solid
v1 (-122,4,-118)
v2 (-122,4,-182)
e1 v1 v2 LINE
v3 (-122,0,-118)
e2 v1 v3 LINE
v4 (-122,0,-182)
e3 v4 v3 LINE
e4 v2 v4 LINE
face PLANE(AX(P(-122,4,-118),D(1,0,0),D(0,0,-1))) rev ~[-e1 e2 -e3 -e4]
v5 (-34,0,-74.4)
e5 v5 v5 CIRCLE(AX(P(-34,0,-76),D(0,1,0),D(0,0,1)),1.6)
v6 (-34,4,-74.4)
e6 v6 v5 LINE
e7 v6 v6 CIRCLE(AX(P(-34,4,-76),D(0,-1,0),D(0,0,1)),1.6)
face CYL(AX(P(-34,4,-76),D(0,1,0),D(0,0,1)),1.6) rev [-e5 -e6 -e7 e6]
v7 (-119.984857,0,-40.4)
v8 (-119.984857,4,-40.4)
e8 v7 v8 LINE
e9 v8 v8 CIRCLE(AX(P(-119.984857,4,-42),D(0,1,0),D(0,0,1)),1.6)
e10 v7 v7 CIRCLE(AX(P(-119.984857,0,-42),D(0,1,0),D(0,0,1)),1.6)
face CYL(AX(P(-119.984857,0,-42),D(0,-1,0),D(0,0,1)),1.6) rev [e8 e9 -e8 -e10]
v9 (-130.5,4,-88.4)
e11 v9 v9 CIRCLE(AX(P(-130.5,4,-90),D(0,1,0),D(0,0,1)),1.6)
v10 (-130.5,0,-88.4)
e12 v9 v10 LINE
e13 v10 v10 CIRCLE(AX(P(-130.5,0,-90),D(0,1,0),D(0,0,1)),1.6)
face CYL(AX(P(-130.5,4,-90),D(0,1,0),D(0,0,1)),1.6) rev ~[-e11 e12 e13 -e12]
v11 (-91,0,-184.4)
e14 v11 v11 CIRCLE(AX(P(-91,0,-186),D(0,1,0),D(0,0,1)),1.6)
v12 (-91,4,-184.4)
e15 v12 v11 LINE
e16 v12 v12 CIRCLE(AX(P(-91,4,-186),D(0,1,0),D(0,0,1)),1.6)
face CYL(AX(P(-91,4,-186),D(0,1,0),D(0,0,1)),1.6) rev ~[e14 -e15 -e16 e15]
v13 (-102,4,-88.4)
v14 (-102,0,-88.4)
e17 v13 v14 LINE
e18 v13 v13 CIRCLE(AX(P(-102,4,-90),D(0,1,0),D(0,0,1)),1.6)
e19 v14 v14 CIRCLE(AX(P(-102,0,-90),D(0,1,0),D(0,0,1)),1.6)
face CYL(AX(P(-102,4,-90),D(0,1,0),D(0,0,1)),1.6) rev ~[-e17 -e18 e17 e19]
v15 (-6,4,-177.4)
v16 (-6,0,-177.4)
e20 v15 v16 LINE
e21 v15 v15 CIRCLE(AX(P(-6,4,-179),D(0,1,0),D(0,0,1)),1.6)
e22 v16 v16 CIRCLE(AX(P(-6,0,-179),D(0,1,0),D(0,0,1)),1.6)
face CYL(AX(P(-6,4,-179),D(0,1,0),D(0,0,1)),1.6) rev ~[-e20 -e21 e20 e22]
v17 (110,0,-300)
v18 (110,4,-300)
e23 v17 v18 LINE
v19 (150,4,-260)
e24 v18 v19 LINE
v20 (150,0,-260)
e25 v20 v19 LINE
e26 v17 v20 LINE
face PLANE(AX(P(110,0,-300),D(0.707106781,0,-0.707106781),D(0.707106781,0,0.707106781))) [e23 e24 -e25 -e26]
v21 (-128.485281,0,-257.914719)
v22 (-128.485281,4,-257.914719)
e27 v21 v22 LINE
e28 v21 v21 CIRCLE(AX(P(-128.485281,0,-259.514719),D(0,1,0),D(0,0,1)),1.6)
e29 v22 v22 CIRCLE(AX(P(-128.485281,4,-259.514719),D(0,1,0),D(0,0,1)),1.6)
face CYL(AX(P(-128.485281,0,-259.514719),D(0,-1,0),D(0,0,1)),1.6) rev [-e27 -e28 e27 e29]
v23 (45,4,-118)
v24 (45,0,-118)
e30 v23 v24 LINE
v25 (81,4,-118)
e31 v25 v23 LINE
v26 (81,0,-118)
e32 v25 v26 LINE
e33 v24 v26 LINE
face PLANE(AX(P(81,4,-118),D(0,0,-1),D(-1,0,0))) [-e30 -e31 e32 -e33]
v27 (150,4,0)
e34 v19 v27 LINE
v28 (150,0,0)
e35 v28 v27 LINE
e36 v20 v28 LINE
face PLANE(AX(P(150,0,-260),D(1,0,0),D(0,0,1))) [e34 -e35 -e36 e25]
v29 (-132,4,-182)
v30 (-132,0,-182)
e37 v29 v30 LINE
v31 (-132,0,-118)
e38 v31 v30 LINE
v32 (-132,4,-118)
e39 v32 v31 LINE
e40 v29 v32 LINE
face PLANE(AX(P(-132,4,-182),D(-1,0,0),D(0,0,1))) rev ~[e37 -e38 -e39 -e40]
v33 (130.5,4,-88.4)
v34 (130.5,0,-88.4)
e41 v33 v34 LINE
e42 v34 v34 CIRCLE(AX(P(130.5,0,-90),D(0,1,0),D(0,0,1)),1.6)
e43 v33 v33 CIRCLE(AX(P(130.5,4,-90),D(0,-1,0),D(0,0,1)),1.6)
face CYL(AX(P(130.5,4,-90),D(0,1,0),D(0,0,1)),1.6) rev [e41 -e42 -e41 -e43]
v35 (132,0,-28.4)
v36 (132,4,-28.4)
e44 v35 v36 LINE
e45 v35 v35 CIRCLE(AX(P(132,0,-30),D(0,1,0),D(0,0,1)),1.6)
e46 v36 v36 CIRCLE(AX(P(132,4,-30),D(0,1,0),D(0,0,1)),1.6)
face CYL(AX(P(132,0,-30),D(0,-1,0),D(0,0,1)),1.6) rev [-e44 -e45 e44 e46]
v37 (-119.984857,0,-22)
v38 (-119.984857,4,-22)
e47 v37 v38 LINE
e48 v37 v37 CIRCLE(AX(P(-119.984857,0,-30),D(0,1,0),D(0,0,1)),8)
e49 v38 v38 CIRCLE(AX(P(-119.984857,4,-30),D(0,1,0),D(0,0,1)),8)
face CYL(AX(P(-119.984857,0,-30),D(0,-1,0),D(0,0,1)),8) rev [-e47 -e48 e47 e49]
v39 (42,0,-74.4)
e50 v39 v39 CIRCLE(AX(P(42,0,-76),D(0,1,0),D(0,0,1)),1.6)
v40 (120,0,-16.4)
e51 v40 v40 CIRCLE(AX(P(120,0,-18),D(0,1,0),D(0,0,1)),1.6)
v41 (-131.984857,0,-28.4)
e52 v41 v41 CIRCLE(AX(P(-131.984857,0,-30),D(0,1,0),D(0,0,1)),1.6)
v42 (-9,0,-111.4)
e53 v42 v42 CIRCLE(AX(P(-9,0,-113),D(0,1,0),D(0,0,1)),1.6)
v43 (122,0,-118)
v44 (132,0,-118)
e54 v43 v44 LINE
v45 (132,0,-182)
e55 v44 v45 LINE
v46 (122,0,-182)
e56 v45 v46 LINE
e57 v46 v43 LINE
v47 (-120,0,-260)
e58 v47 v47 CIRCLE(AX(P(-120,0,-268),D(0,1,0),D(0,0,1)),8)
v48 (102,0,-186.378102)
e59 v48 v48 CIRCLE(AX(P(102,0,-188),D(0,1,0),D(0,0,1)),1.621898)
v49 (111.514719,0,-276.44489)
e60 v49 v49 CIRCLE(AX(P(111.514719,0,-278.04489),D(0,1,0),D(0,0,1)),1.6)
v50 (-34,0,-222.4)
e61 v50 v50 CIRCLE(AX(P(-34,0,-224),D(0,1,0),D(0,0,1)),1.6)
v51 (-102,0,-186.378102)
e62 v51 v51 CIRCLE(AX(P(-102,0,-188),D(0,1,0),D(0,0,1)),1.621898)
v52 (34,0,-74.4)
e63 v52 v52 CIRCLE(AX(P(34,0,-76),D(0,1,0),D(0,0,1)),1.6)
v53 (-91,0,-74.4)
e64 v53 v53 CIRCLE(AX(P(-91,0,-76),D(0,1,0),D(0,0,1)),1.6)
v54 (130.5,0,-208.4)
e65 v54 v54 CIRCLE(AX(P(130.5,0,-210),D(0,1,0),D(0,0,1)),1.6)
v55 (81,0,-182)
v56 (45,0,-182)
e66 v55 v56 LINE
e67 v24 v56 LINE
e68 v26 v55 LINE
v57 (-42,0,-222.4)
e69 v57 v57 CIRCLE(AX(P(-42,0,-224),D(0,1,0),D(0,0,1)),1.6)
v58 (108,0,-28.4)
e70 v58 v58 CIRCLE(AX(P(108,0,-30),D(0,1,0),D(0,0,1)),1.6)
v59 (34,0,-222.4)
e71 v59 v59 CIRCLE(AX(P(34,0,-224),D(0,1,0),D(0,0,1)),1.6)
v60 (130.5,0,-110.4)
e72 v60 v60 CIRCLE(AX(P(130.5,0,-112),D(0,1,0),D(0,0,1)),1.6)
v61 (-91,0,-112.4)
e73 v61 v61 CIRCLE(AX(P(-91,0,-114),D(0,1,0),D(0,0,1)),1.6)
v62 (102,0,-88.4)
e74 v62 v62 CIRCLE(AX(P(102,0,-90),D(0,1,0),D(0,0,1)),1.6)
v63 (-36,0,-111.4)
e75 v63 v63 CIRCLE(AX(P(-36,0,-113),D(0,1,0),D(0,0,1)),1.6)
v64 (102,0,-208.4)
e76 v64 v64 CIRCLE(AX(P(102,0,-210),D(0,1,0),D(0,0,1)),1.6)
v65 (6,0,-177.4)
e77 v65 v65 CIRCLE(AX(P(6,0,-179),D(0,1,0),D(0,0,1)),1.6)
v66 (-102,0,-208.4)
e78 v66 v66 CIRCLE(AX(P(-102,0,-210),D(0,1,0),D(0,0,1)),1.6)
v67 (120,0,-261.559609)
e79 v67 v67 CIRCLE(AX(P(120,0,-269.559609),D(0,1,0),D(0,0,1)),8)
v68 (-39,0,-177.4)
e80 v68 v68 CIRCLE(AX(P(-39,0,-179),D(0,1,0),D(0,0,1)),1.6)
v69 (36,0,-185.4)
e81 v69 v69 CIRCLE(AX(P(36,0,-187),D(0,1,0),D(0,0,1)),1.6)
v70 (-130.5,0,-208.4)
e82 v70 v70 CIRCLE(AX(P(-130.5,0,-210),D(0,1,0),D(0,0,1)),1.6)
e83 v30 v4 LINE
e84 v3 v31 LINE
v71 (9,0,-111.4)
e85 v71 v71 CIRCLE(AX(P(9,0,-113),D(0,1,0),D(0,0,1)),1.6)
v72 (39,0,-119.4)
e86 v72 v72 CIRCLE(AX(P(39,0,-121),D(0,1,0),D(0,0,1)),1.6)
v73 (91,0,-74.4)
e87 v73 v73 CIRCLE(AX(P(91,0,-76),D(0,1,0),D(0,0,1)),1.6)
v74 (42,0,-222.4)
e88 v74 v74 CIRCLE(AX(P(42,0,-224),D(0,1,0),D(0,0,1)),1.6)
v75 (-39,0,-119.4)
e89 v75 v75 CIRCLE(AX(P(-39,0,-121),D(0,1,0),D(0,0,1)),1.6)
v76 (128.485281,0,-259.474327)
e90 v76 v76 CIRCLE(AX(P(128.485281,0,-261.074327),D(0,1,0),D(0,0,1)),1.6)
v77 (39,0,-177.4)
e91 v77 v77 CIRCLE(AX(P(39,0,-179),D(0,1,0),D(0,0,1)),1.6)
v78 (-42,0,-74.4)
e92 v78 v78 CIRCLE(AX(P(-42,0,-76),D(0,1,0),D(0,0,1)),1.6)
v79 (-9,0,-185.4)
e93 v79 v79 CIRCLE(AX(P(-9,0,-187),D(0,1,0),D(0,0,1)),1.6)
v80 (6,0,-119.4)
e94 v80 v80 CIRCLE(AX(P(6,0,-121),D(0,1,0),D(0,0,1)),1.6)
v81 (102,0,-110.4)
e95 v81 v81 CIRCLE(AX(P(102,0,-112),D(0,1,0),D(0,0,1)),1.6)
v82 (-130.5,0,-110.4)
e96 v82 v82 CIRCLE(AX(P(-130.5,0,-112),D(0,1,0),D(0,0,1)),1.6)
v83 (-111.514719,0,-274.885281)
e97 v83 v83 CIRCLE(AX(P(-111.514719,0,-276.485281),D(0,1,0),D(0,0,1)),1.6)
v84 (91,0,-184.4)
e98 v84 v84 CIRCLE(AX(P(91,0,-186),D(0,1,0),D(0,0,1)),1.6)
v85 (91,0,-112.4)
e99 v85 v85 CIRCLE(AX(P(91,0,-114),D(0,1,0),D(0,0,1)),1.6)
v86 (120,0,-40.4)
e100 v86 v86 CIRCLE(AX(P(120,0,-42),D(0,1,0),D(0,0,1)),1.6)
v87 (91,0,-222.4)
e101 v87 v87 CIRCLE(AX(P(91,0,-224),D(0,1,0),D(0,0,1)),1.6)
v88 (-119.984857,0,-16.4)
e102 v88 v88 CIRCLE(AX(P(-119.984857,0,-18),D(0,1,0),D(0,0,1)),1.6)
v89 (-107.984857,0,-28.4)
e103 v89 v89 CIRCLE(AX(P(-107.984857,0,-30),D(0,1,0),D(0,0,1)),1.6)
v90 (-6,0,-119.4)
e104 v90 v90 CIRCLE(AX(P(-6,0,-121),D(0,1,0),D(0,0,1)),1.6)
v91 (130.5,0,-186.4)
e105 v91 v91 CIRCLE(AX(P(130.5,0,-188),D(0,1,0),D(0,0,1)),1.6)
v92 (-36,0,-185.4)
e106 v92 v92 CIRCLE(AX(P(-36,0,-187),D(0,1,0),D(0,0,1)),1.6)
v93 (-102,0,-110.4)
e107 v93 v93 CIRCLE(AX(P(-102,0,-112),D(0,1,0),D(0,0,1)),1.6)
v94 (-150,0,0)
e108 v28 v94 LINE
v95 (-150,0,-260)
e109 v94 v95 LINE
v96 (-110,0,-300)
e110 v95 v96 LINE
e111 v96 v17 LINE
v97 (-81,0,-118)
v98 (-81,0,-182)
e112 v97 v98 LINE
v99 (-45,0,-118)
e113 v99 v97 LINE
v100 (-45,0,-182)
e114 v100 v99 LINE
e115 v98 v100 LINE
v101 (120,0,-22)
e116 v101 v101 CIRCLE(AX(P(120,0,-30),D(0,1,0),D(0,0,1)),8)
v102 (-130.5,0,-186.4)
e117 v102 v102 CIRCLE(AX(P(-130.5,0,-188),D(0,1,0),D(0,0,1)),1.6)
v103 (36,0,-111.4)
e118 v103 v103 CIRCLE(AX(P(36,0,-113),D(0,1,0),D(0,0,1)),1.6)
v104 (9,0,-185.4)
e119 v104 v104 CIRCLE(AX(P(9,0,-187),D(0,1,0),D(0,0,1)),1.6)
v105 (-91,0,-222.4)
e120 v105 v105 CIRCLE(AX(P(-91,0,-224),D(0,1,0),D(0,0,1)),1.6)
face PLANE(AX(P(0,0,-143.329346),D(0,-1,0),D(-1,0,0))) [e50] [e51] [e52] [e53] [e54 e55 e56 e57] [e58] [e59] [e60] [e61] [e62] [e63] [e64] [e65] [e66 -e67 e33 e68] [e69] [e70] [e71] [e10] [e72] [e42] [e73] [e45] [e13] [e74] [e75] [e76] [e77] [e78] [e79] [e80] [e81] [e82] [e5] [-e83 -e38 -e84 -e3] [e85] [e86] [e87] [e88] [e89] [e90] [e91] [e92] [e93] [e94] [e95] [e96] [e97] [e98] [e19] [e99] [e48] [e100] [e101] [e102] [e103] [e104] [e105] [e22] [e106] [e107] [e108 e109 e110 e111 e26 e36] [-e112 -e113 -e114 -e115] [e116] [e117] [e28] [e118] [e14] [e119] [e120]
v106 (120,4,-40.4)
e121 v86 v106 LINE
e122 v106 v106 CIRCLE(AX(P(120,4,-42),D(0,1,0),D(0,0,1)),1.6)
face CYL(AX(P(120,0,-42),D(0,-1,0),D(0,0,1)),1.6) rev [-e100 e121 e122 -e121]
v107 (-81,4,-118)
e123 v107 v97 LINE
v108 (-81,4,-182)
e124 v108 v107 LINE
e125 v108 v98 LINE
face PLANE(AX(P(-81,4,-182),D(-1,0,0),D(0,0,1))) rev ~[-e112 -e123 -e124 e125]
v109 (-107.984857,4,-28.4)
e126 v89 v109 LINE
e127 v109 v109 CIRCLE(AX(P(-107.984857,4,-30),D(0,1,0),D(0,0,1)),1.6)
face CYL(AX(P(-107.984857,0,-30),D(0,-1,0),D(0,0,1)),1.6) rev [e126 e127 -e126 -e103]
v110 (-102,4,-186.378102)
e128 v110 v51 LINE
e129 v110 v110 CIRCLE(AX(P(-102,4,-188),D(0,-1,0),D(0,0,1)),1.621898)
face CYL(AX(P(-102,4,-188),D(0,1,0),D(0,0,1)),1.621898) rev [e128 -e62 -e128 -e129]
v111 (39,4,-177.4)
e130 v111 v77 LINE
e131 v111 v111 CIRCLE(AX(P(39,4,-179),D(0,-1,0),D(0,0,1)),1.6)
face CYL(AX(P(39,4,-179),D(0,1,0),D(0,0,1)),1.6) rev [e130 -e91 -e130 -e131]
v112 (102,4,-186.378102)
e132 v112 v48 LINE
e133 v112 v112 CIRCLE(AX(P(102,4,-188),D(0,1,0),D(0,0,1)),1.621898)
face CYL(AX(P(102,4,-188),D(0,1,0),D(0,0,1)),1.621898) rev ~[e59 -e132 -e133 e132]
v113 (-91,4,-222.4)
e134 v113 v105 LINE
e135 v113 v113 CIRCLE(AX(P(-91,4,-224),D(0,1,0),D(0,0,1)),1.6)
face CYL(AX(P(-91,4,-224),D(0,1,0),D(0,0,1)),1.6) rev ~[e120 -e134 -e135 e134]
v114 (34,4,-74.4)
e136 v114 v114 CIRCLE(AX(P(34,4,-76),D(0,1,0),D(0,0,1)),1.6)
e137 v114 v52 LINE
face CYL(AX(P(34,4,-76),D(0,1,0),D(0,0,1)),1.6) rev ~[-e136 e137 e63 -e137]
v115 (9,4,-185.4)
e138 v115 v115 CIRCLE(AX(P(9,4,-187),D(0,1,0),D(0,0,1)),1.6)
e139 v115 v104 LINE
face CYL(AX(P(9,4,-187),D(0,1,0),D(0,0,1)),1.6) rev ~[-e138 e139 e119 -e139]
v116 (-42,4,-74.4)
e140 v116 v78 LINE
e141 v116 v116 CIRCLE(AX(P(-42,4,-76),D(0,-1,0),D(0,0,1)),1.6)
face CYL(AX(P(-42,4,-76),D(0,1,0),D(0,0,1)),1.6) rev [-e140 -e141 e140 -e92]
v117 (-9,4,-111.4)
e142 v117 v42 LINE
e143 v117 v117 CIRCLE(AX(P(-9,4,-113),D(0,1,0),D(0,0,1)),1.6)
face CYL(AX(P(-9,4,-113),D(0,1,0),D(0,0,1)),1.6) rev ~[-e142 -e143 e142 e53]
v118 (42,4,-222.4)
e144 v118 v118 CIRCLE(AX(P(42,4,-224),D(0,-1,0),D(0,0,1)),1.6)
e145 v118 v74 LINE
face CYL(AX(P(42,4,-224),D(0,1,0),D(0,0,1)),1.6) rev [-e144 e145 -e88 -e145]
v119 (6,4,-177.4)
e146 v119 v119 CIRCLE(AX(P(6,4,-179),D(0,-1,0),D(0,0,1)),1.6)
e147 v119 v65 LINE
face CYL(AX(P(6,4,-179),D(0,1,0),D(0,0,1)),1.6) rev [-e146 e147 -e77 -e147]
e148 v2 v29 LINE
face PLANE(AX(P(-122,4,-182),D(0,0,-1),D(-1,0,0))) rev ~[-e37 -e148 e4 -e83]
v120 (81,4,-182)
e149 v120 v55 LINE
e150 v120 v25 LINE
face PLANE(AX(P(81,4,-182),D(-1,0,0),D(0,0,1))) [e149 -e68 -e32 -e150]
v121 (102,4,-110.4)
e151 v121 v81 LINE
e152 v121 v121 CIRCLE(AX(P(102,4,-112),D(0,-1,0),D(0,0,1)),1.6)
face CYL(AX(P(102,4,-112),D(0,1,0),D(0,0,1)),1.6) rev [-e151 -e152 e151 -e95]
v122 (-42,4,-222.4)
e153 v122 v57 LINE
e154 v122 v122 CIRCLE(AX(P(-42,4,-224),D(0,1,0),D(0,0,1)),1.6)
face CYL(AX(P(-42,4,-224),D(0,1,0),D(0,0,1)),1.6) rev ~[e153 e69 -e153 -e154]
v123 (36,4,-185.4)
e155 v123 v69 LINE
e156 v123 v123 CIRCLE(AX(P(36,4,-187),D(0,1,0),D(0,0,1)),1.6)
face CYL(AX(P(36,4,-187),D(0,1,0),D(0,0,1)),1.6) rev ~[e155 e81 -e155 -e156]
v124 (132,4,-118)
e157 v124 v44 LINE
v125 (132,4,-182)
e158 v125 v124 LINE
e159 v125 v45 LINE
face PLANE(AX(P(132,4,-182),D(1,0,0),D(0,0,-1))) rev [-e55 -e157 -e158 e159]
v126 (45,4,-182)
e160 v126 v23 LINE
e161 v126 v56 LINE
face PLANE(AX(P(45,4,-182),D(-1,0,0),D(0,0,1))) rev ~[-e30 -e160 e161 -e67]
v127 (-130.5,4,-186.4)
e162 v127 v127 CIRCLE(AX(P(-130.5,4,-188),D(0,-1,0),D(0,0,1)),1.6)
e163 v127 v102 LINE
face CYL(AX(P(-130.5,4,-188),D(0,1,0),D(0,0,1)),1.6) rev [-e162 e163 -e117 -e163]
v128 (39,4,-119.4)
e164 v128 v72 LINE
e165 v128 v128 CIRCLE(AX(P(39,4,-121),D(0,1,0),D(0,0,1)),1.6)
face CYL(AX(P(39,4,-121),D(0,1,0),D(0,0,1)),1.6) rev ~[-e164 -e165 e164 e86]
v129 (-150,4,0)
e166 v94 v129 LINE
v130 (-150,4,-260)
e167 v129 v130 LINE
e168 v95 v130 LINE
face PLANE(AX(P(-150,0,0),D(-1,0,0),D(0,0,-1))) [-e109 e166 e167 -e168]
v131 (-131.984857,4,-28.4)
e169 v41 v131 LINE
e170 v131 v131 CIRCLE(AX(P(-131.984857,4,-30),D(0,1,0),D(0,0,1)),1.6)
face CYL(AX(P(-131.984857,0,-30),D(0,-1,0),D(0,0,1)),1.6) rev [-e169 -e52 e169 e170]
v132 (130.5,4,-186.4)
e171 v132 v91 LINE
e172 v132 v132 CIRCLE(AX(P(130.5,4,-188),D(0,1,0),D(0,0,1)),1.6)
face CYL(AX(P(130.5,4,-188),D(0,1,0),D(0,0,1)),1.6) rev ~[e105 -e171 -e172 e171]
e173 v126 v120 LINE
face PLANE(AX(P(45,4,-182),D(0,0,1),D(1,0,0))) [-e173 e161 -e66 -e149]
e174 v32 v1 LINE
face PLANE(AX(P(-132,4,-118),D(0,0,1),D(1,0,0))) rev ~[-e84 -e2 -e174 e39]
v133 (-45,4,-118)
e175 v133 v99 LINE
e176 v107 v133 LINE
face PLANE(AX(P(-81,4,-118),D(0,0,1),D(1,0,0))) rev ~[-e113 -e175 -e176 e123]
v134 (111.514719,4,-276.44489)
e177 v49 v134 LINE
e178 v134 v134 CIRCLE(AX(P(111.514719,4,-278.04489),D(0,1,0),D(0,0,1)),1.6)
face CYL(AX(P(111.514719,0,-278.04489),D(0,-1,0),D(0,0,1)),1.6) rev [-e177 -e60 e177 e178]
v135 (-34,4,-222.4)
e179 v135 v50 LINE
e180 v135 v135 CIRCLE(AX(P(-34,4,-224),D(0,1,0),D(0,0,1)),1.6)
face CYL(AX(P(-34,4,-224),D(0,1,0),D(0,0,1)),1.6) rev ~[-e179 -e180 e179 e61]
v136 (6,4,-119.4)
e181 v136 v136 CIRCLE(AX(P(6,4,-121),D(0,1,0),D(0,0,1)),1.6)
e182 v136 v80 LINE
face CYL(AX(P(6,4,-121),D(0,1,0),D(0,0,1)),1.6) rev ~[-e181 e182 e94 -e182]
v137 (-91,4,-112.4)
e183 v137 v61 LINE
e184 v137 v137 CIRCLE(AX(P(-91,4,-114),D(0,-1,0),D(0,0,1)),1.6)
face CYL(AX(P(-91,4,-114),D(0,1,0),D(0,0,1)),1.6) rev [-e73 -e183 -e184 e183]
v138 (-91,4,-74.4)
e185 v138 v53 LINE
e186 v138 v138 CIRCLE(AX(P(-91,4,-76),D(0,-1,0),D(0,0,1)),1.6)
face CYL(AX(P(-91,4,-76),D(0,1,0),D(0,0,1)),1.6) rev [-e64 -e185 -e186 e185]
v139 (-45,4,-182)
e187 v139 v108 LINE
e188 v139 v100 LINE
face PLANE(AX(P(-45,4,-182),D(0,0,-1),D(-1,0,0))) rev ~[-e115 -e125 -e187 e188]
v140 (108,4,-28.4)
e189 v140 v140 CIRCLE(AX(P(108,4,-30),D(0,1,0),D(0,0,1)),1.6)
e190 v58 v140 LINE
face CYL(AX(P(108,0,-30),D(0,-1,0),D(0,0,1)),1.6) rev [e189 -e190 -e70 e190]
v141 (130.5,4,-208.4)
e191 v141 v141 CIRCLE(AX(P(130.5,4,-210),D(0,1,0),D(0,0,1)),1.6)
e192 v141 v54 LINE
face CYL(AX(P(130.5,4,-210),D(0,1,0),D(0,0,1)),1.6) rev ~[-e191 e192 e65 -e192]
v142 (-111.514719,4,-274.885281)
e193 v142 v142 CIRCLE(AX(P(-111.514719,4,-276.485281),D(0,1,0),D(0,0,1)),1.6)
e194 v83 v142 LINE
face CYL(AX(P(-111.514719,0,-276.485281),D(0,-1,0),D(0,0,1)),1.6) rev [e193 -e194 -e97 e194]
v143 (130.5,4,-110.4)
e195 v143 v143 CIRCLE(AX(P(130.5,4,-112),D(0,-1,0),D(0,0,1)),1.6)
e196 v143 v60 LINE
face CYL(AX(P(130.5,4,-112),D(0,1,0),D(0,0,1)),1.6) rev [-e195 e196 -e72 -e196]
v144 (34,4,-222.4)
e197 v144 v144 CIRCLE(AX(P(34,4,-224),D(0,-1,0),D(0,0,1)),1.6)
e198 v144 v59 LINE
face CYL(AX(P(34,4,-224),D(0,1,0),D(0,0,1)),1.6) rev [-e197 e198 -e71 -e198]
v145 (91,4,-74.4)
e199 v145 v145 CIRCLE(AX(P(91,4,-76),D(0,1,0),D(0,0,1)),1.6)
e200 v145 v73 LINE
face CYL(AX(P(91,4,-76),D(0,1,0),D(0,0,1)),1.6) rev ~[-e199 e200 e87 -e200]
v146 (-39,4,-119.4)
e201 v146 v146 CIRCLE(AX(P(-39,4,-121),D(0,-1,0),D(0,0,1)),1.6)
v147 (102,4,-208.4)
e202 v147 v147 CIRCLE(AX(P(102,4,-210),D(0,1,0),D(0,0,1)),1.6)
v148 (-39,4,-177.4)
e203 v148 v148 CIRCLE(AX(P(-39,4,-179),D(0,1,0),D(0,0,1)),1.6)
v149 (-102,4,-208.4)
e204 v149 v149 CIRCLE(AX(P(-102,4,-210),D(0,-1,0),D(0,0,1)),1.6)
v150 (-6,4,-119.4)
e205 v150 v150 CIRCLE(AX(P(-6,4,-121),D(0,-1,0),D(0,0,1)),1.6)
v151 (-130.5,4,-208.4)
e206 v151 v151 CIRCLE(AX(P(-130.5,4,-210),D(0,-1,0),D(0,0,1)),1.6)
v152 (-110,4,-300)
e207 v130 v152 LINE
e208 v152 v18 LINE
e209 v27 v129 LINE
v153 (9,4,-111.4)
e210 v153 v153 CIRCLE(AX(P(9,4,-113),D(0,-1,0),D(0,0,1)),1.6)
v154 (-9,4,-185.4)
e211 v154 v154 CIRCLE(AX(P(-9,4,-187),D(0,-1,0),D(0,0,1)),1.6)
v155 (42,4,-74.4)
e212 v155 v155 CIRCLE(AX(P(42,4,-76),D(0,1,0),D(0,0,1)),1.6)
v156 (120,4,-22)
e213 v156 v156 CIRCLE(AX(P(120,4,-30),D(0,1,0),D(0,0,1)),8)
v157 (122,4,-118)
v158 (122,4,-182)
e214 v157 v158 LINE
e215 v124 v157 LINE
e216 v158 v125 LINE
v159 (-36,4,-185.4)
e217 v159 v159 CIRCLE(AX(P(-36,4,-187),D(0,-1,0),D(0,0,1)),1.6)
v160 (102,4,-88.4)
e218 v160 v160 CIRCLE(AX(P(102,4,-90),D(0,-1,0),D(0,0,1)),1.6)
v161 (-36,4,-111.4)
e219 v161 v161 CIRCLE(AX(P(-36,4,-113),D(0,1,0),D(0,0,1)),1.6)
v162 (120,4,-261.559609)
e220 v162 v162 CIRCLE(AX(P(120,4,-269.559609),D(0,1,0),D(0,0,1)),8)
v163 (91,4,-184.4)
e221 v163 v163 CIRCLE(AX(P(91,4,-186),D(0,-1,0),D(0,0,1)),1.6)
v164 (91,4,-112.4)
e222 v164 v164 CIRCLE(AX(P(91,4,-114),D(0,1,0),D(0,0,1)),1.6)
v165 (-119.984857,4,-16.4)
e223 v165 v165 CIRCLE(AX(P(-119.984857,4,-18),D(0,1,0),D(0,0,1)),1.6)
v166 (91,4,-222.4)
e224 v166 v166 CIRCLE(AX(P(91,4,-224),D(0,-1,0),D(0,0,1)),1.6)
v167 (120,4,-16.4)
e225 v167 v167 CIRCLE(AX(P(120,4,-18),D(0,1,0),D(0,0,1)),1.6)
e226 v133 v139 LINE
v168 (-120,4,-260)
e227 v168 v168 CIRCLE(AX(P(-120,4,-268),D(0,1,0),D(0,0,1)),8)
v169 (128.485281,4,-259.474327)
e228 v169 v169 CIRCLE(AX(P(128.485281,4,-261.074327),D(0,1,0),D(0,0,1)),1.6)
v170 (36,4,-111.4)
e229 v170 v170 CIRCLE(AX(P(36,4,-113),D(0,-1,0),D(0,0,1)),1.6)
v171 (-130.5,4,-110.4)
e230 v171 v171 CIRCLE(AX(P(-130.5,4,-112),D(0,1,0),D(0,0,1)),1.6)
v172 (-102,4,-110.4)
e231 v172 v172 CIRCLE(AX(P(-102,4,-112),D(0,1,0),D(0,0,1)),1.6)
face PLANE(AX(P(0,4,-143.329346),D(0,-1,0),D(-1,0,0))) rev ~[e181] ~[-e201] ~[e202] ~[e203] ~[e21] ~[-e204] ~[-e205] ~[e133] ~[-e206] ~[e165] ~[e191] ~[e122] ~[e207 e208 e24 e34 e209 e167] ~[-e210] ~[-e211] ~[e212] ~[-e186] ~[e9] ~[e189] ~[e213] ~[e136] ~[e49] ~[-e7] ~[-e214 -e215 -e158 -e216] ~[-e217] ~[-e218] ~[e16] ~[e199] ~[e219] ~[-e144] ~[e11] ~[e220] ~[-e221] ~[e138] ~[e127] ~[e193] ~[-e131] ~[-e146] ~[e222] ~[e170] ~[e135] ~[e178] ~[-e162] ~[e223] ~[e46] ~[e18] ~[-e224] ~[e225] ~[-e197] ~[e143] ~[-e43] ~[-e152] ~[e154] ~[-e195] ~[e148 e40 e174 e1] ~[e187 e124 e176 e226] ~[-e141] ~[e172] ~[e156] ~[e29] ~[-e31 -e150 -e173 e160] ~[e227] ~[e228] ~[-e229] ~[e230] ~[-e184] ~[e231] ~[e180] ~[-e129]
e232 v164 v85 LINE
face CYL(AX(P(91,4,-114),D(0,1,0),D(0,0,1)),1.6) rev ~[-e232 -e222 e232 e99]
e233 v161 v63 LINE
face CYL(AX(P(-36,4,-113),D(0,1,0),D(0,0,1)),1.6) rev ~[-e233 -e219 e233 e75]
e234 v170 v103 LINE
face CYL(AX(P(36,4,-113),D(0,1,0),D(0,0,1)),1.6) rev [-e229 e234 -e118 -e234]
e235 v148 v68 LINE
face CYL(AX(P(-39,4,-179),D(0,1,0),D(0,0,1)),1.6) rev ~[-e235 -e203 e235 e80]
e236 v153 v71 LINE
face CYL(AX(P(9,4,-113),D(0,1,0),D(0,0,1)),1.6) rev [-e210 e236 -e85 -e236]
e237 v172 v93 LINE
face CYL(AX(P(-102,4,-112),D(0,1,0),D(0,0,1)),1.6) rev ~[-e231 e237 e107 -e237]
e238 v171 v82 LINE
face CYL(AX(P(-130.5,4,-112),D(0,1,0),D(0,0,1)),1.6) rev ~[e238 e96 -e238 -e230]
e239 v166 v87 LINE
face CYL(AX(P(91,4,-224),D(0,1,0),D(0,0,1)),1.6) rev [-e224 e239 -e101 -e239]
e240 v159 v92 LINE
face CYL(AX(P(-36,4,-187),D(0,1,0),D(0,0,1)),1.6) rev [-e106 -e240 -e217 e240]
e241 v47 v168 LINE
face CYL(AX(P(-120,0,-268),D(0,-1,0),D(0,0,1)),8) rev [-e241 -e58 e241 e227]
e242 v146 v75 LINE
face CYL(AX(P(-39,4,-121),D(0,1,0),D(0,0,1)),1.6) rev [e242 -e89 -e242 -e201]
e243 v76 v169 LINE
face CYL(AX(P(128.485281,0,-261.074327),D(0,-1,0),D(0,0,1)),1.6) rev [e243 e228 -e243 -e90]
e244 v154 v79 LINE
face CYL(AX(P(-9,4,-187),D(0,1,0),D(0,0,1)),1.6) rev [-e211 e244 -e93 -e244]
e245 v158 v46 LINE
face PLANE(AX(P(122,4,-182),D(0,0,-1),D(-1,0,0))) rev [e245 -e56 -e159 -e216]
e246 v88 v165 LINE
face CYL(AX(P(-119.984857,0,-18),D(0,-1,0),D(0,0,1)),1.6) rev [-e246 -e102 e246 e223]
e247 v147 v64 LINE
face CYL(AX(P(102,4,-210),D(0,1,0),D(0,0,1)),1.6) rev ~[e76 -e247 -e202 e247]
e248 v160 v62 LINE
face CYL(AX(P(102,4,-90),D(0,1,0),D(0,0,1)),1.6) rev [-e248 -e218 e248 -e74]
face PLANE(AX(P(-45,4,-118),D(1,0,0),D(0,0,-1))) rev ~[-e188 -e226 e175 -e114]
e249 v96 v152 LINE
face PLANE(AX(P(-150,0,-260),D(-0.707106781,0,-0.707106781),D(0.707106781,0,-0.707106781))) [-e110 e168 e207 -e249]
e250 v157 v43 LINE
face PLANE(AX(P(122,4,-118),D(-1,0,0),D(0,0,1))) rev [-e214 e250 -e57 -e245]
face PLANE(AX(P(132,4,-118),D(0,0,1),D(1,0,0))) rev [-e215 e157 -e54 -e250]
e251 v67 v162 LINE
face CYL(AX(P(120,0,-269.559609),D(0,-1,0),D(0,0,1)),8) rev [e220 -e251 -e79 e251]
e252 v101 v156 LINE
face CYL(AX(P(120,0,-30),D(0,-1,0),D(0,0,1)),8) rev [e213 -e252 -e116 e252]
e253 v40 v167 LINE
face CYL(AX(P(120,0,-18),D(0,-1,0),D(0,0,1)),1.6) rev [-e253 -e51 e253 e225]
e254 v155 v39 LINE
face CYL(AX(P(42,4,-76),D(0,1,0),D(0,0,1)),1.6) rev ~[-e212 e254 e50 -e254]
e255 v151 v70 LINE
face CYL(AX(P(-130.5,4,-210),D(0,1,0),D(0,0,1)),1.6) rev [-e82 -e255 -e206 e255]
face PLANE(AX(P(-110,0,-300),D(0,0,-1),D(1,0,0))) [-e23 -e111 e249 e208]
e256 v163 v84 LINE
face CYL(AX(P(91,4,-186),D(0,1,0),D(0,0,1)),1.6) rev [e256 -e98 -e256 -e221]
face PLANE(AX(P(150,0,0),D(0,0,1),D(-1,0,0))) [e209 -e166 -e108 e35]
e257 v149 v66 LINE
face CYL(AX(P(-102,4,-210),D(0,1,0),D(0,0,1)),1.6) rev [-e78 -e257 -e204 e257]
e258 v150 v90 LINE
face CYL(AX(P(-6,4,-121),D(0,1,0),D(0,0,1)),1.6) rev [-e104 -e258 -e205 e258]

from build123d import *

# Parameters (mm, degrees)
ESQUISSE1_R             = 8
ESQUISSE1_R_2           = 1.6
BOSS_EXTRU_1_DEPTH      = 4
ESQUISSE3_R             = 1.6
ENL_V_MAT_EXTRU_1_DEPTH = 10
ESQUISSE4_W             = 36
ESQUISSE4_H             = 64
ENL_V_MAT_EXTRU_2_DEPTH = 5
ESQUISSE5_R             = 1.6
ENL_V_MAT_EXTRU_4_DEPTH = 5
ESQUISSE6_R             = 1.6
ESQUISSE6_R_2           = 1.621897971
ENL_V_MAT_EXTRU_5_DEPTH = 5
ENL_V_MAT_EXTRU_6_DEPTH = 5


with BuildPart() as part:
    # Esquisse1 → Boss.-Extru.1 (new body)
    with BuildSketch(Plane(origin=(0, 0, 0), x_dir=(1, 0, 0), z_dir=(0, 1, 0))):
        Polygon((-150, 0), (-150, 260), (-110, 300), (110, 300), (150, 260), (150, 0), align=None)
        with Locations((-119.984856992, 30)):
            Circle(ESQUISSE1_R, mode=Mode.SUBTRACT)
        with Locations((-120, 268)):
            Circle(ESQUISSE1_R, mode=Mode.SUBTRACT)
        with Locations((120, 269.55960862)):
            Circle(ESQUISSE1_R, mode=Mode.SUBTRACT)
        with Locations((-111.514718626, 276.485281374)):
            Circle(ESQUISSE1_R_2, mode=Mode.SUBTRACT)
        with Locations((-128.485281374, 259.514718626)):
            Circle(ESQUISSE1_R_2, mode=Mode.SUBTRACT)
        with Locations((111.514718626, 278.044889994)):
            Circle(ESQUISSE1_R_2, mode=Mode.SUBTRACT)
        with Locations((128.485281374, 261.074327245)):
            Circle(ESQUISSE1_R_2, mode=Mode.SUBTRACT)
        with Locations((120, 30)):
            Circle(ESQUISSE1_R, mode=Mode.SUBTRACT)
        with Locations((120, 42)):
            Circle(ESQUISSE1_R_2, mode=Mode.SUBTRACT)
        with Locations((-119.984856992, 42)):
            Circle(ESQUISSE1_R_2, mode=Mode.SUBTRACT)
        with Locations((-119.984856992, 18)):
            Circle(ESQUISSE1_R_2, mode=Mode.SUBTRACT)
        with Locations((120, 18)):
            Circle(ESQUISSE1_R_2, mode=Mode.SUBTRACT)
        with Locations((-131.984856992, 30)):
            Circle(ESQUISSE1_R_2, mode=Mode.SUBTRACT)
        with Locations((-107.984856992, 30)):
            Circle(ESQUISSE1_R_2, mode=Mode.SUBTRACT)
        with Locations((108, 30)):
            Circle(ESQUISSE1_R_2, mode=Mode.SUBTRACT)
        with Locations((132, 30)):
            Circle(ESQUISSE1_R_2, mode=Mode.SUBTRACT)
    extrude(amount=BOSS_EXTRU_1_DEPTH)

    # Esquisse3 → Enlèv. mat.-Extru.1 (cut)
    with BuildSketch(Plane(origin=(0, 4, 0), x_dir=(1, 0, 0), z_dir=(0, 1, 0))):
        with Locations((-9, 113)):
            Circle(ESQUISSE3_R)
        with Locations((-6, 179)):
            Circle(ESQUISSE3_R)
        with Locations((-39, 179)):
            Circle(ESQUISSE3_R)
        with Locations((-36, 113)):
            Circle(ESQUISSE3_R)
        with Locations((9, 187)):
            Circle(ESQUISSE3_R)
        with Locations((36, 187)):
            Circle(ESQUISSE3_R)
        with Locations((39, 121)):
            Circle(ESQUISSE3_R)
        with Locations((6, 121)):
            Circle(ESQUISSE3_R)
    enl_v_mat_extru_1 = extrude(amount=-ENL_V_MAT_EXTRU_1_DEPTH, mode=Mode.SUBTRACT)

    # Esquisse4 → Enlèv. mat.-Extru.2 (cut)
    with BuildSketch(Plane(origin=(0, 4, 0), x_dir=(1, 0, 0), z_dir=(0, 1, 0))):
        with Locations((-63, 150)):
            Rectangle(ESQUISSE4_W, ESQUISSE4_H)
        with Locations((63, 150)):
            Rectangle(ESQUISSE4_W, ESQUISSE4_H)
    extrude(amount=-ENL_V_MAT_EXTRU_2_DEPTH, mode=Mode.SUBTRACT)

    # Symétrie1: Enlèv. mat.-Extru.1 across plane
    add(enl_v_mat_extru_1.mirror(Plane(origin=(0, 0, 0), x_dir=(0, 0, 1), z_dir=(1, 0, 0))), mode=Mode.SUBTRACT)

    # Esquisse5 → Enlèv. mat.-Extru.4 (cut)
    with BuildSketch(Plane(origin=(0, 4, 0), x_dir=(1, 0, 0), z_dir=(0, 1, 0))):
        with Locations((-42, 224)):
            Circle(ESQUISSE5_R)
        with Locations((-34, 224)):
            Circle(ESQUISSE5_R)
        with Locations((34, 76)):
            Circle(ESQUISSE5_R)
        with Locations((42, 76)):
            Circle(ESQUISSE5_R)
        with Locations((91, 114)):
            Circle(ESQUISSE5_R)
        with Locations((91, 76)):
            Circle(ESQUISSE5_R)
        with Locations((-91, 224)):
            Circle(ESQUISSE5_R)
        with Locations((-91, 186)):
            Circle(ESQUISSE5_R)
    enl_v_mat_extru_4 = extrude(amount=-ENL_V_MAT_EXTRU_4_DEPTH, mode=Mode.SUBTRACT)

    # Symétrie4: Enlèv. mat.-Extru.4 across plane
    add(enl_v_mat_extru_4.mirror(Plane(origin=(0, 0, 0), x_dir=(0, 0, 1), z_dir=(1, 0, 0))), mode=Mode.SUBTRACT)

    # Esquisse6 → Enlèv. mat.-Extru.5 (cut)
    with BuildSketch(Plane(origin=(0, 4, 0), x_dir=(1, 0, 0), z_dir=(0, 1, 0))):
        with Locations((-102, 112)):
            Circle(ESQUISSE6_R)
        with Locations((-102, 90)):
            Circle(ESQUISSE6_R)
        with Locations((102, 188)):
            Circle(ESQUISSE6_R_2)
        with Locations((102, 210)):
            Circle(ESQUISSE6_R)
        with Locations((-130.5, 112)):
            Circle(ESQUISSE6_R)
        with Locations((-130.5, 90)):
            Circle(ESQUISSE6_R)
        with Locations((130.5, 210)):
            Circle(ESQUISSE6_R)
        with Locations((130.5, 188)):
            Circle(ESQUISSE6_R)
    enl_v_mat_extru_5 = extrude(amount=-ENL_V_MAT_EXTRU_5_DEPTH, mode=Mode.SUBTRACT)

    # Esquisse7 → Enlèv. mat.-Extru.6 (cut)
    with BuildSketch(Plane(origin=(0, 4, 0), x_dir=(1, 0, 0), z_dir=(0, 1, 0))):
        Polygon((-122, 150), (-122, 182), (-132, 182), (-132, 118), (-122, 118), align=None)
    enl_v_mat_extru_6 = extrude(amount=-ENL_V_MAT_EXTRU_6_DEPTH, mode=Mode.SUBTRACT)

    # Symétrie5: Enlèv. mat.-Extru.6 across plane
    add(enl_v_mat_extru_6.mirror(Plane(origin=(0, 0, 0), x_dir=(0, 0, 1), z_dir=(1, 0, 0))), mode=Mode.SUBTRACT)

    # Symétrie6: Enlèv. mat.-Extru.5 across plane
    add(enl_v_mat_extru_5.mirror(Plane(origin=(0, 0, 0), x_dir=(0, 0, 1), z_dir=(1, 0, 0))), mode=Mode.SUBTRACT)


solid = part.part
